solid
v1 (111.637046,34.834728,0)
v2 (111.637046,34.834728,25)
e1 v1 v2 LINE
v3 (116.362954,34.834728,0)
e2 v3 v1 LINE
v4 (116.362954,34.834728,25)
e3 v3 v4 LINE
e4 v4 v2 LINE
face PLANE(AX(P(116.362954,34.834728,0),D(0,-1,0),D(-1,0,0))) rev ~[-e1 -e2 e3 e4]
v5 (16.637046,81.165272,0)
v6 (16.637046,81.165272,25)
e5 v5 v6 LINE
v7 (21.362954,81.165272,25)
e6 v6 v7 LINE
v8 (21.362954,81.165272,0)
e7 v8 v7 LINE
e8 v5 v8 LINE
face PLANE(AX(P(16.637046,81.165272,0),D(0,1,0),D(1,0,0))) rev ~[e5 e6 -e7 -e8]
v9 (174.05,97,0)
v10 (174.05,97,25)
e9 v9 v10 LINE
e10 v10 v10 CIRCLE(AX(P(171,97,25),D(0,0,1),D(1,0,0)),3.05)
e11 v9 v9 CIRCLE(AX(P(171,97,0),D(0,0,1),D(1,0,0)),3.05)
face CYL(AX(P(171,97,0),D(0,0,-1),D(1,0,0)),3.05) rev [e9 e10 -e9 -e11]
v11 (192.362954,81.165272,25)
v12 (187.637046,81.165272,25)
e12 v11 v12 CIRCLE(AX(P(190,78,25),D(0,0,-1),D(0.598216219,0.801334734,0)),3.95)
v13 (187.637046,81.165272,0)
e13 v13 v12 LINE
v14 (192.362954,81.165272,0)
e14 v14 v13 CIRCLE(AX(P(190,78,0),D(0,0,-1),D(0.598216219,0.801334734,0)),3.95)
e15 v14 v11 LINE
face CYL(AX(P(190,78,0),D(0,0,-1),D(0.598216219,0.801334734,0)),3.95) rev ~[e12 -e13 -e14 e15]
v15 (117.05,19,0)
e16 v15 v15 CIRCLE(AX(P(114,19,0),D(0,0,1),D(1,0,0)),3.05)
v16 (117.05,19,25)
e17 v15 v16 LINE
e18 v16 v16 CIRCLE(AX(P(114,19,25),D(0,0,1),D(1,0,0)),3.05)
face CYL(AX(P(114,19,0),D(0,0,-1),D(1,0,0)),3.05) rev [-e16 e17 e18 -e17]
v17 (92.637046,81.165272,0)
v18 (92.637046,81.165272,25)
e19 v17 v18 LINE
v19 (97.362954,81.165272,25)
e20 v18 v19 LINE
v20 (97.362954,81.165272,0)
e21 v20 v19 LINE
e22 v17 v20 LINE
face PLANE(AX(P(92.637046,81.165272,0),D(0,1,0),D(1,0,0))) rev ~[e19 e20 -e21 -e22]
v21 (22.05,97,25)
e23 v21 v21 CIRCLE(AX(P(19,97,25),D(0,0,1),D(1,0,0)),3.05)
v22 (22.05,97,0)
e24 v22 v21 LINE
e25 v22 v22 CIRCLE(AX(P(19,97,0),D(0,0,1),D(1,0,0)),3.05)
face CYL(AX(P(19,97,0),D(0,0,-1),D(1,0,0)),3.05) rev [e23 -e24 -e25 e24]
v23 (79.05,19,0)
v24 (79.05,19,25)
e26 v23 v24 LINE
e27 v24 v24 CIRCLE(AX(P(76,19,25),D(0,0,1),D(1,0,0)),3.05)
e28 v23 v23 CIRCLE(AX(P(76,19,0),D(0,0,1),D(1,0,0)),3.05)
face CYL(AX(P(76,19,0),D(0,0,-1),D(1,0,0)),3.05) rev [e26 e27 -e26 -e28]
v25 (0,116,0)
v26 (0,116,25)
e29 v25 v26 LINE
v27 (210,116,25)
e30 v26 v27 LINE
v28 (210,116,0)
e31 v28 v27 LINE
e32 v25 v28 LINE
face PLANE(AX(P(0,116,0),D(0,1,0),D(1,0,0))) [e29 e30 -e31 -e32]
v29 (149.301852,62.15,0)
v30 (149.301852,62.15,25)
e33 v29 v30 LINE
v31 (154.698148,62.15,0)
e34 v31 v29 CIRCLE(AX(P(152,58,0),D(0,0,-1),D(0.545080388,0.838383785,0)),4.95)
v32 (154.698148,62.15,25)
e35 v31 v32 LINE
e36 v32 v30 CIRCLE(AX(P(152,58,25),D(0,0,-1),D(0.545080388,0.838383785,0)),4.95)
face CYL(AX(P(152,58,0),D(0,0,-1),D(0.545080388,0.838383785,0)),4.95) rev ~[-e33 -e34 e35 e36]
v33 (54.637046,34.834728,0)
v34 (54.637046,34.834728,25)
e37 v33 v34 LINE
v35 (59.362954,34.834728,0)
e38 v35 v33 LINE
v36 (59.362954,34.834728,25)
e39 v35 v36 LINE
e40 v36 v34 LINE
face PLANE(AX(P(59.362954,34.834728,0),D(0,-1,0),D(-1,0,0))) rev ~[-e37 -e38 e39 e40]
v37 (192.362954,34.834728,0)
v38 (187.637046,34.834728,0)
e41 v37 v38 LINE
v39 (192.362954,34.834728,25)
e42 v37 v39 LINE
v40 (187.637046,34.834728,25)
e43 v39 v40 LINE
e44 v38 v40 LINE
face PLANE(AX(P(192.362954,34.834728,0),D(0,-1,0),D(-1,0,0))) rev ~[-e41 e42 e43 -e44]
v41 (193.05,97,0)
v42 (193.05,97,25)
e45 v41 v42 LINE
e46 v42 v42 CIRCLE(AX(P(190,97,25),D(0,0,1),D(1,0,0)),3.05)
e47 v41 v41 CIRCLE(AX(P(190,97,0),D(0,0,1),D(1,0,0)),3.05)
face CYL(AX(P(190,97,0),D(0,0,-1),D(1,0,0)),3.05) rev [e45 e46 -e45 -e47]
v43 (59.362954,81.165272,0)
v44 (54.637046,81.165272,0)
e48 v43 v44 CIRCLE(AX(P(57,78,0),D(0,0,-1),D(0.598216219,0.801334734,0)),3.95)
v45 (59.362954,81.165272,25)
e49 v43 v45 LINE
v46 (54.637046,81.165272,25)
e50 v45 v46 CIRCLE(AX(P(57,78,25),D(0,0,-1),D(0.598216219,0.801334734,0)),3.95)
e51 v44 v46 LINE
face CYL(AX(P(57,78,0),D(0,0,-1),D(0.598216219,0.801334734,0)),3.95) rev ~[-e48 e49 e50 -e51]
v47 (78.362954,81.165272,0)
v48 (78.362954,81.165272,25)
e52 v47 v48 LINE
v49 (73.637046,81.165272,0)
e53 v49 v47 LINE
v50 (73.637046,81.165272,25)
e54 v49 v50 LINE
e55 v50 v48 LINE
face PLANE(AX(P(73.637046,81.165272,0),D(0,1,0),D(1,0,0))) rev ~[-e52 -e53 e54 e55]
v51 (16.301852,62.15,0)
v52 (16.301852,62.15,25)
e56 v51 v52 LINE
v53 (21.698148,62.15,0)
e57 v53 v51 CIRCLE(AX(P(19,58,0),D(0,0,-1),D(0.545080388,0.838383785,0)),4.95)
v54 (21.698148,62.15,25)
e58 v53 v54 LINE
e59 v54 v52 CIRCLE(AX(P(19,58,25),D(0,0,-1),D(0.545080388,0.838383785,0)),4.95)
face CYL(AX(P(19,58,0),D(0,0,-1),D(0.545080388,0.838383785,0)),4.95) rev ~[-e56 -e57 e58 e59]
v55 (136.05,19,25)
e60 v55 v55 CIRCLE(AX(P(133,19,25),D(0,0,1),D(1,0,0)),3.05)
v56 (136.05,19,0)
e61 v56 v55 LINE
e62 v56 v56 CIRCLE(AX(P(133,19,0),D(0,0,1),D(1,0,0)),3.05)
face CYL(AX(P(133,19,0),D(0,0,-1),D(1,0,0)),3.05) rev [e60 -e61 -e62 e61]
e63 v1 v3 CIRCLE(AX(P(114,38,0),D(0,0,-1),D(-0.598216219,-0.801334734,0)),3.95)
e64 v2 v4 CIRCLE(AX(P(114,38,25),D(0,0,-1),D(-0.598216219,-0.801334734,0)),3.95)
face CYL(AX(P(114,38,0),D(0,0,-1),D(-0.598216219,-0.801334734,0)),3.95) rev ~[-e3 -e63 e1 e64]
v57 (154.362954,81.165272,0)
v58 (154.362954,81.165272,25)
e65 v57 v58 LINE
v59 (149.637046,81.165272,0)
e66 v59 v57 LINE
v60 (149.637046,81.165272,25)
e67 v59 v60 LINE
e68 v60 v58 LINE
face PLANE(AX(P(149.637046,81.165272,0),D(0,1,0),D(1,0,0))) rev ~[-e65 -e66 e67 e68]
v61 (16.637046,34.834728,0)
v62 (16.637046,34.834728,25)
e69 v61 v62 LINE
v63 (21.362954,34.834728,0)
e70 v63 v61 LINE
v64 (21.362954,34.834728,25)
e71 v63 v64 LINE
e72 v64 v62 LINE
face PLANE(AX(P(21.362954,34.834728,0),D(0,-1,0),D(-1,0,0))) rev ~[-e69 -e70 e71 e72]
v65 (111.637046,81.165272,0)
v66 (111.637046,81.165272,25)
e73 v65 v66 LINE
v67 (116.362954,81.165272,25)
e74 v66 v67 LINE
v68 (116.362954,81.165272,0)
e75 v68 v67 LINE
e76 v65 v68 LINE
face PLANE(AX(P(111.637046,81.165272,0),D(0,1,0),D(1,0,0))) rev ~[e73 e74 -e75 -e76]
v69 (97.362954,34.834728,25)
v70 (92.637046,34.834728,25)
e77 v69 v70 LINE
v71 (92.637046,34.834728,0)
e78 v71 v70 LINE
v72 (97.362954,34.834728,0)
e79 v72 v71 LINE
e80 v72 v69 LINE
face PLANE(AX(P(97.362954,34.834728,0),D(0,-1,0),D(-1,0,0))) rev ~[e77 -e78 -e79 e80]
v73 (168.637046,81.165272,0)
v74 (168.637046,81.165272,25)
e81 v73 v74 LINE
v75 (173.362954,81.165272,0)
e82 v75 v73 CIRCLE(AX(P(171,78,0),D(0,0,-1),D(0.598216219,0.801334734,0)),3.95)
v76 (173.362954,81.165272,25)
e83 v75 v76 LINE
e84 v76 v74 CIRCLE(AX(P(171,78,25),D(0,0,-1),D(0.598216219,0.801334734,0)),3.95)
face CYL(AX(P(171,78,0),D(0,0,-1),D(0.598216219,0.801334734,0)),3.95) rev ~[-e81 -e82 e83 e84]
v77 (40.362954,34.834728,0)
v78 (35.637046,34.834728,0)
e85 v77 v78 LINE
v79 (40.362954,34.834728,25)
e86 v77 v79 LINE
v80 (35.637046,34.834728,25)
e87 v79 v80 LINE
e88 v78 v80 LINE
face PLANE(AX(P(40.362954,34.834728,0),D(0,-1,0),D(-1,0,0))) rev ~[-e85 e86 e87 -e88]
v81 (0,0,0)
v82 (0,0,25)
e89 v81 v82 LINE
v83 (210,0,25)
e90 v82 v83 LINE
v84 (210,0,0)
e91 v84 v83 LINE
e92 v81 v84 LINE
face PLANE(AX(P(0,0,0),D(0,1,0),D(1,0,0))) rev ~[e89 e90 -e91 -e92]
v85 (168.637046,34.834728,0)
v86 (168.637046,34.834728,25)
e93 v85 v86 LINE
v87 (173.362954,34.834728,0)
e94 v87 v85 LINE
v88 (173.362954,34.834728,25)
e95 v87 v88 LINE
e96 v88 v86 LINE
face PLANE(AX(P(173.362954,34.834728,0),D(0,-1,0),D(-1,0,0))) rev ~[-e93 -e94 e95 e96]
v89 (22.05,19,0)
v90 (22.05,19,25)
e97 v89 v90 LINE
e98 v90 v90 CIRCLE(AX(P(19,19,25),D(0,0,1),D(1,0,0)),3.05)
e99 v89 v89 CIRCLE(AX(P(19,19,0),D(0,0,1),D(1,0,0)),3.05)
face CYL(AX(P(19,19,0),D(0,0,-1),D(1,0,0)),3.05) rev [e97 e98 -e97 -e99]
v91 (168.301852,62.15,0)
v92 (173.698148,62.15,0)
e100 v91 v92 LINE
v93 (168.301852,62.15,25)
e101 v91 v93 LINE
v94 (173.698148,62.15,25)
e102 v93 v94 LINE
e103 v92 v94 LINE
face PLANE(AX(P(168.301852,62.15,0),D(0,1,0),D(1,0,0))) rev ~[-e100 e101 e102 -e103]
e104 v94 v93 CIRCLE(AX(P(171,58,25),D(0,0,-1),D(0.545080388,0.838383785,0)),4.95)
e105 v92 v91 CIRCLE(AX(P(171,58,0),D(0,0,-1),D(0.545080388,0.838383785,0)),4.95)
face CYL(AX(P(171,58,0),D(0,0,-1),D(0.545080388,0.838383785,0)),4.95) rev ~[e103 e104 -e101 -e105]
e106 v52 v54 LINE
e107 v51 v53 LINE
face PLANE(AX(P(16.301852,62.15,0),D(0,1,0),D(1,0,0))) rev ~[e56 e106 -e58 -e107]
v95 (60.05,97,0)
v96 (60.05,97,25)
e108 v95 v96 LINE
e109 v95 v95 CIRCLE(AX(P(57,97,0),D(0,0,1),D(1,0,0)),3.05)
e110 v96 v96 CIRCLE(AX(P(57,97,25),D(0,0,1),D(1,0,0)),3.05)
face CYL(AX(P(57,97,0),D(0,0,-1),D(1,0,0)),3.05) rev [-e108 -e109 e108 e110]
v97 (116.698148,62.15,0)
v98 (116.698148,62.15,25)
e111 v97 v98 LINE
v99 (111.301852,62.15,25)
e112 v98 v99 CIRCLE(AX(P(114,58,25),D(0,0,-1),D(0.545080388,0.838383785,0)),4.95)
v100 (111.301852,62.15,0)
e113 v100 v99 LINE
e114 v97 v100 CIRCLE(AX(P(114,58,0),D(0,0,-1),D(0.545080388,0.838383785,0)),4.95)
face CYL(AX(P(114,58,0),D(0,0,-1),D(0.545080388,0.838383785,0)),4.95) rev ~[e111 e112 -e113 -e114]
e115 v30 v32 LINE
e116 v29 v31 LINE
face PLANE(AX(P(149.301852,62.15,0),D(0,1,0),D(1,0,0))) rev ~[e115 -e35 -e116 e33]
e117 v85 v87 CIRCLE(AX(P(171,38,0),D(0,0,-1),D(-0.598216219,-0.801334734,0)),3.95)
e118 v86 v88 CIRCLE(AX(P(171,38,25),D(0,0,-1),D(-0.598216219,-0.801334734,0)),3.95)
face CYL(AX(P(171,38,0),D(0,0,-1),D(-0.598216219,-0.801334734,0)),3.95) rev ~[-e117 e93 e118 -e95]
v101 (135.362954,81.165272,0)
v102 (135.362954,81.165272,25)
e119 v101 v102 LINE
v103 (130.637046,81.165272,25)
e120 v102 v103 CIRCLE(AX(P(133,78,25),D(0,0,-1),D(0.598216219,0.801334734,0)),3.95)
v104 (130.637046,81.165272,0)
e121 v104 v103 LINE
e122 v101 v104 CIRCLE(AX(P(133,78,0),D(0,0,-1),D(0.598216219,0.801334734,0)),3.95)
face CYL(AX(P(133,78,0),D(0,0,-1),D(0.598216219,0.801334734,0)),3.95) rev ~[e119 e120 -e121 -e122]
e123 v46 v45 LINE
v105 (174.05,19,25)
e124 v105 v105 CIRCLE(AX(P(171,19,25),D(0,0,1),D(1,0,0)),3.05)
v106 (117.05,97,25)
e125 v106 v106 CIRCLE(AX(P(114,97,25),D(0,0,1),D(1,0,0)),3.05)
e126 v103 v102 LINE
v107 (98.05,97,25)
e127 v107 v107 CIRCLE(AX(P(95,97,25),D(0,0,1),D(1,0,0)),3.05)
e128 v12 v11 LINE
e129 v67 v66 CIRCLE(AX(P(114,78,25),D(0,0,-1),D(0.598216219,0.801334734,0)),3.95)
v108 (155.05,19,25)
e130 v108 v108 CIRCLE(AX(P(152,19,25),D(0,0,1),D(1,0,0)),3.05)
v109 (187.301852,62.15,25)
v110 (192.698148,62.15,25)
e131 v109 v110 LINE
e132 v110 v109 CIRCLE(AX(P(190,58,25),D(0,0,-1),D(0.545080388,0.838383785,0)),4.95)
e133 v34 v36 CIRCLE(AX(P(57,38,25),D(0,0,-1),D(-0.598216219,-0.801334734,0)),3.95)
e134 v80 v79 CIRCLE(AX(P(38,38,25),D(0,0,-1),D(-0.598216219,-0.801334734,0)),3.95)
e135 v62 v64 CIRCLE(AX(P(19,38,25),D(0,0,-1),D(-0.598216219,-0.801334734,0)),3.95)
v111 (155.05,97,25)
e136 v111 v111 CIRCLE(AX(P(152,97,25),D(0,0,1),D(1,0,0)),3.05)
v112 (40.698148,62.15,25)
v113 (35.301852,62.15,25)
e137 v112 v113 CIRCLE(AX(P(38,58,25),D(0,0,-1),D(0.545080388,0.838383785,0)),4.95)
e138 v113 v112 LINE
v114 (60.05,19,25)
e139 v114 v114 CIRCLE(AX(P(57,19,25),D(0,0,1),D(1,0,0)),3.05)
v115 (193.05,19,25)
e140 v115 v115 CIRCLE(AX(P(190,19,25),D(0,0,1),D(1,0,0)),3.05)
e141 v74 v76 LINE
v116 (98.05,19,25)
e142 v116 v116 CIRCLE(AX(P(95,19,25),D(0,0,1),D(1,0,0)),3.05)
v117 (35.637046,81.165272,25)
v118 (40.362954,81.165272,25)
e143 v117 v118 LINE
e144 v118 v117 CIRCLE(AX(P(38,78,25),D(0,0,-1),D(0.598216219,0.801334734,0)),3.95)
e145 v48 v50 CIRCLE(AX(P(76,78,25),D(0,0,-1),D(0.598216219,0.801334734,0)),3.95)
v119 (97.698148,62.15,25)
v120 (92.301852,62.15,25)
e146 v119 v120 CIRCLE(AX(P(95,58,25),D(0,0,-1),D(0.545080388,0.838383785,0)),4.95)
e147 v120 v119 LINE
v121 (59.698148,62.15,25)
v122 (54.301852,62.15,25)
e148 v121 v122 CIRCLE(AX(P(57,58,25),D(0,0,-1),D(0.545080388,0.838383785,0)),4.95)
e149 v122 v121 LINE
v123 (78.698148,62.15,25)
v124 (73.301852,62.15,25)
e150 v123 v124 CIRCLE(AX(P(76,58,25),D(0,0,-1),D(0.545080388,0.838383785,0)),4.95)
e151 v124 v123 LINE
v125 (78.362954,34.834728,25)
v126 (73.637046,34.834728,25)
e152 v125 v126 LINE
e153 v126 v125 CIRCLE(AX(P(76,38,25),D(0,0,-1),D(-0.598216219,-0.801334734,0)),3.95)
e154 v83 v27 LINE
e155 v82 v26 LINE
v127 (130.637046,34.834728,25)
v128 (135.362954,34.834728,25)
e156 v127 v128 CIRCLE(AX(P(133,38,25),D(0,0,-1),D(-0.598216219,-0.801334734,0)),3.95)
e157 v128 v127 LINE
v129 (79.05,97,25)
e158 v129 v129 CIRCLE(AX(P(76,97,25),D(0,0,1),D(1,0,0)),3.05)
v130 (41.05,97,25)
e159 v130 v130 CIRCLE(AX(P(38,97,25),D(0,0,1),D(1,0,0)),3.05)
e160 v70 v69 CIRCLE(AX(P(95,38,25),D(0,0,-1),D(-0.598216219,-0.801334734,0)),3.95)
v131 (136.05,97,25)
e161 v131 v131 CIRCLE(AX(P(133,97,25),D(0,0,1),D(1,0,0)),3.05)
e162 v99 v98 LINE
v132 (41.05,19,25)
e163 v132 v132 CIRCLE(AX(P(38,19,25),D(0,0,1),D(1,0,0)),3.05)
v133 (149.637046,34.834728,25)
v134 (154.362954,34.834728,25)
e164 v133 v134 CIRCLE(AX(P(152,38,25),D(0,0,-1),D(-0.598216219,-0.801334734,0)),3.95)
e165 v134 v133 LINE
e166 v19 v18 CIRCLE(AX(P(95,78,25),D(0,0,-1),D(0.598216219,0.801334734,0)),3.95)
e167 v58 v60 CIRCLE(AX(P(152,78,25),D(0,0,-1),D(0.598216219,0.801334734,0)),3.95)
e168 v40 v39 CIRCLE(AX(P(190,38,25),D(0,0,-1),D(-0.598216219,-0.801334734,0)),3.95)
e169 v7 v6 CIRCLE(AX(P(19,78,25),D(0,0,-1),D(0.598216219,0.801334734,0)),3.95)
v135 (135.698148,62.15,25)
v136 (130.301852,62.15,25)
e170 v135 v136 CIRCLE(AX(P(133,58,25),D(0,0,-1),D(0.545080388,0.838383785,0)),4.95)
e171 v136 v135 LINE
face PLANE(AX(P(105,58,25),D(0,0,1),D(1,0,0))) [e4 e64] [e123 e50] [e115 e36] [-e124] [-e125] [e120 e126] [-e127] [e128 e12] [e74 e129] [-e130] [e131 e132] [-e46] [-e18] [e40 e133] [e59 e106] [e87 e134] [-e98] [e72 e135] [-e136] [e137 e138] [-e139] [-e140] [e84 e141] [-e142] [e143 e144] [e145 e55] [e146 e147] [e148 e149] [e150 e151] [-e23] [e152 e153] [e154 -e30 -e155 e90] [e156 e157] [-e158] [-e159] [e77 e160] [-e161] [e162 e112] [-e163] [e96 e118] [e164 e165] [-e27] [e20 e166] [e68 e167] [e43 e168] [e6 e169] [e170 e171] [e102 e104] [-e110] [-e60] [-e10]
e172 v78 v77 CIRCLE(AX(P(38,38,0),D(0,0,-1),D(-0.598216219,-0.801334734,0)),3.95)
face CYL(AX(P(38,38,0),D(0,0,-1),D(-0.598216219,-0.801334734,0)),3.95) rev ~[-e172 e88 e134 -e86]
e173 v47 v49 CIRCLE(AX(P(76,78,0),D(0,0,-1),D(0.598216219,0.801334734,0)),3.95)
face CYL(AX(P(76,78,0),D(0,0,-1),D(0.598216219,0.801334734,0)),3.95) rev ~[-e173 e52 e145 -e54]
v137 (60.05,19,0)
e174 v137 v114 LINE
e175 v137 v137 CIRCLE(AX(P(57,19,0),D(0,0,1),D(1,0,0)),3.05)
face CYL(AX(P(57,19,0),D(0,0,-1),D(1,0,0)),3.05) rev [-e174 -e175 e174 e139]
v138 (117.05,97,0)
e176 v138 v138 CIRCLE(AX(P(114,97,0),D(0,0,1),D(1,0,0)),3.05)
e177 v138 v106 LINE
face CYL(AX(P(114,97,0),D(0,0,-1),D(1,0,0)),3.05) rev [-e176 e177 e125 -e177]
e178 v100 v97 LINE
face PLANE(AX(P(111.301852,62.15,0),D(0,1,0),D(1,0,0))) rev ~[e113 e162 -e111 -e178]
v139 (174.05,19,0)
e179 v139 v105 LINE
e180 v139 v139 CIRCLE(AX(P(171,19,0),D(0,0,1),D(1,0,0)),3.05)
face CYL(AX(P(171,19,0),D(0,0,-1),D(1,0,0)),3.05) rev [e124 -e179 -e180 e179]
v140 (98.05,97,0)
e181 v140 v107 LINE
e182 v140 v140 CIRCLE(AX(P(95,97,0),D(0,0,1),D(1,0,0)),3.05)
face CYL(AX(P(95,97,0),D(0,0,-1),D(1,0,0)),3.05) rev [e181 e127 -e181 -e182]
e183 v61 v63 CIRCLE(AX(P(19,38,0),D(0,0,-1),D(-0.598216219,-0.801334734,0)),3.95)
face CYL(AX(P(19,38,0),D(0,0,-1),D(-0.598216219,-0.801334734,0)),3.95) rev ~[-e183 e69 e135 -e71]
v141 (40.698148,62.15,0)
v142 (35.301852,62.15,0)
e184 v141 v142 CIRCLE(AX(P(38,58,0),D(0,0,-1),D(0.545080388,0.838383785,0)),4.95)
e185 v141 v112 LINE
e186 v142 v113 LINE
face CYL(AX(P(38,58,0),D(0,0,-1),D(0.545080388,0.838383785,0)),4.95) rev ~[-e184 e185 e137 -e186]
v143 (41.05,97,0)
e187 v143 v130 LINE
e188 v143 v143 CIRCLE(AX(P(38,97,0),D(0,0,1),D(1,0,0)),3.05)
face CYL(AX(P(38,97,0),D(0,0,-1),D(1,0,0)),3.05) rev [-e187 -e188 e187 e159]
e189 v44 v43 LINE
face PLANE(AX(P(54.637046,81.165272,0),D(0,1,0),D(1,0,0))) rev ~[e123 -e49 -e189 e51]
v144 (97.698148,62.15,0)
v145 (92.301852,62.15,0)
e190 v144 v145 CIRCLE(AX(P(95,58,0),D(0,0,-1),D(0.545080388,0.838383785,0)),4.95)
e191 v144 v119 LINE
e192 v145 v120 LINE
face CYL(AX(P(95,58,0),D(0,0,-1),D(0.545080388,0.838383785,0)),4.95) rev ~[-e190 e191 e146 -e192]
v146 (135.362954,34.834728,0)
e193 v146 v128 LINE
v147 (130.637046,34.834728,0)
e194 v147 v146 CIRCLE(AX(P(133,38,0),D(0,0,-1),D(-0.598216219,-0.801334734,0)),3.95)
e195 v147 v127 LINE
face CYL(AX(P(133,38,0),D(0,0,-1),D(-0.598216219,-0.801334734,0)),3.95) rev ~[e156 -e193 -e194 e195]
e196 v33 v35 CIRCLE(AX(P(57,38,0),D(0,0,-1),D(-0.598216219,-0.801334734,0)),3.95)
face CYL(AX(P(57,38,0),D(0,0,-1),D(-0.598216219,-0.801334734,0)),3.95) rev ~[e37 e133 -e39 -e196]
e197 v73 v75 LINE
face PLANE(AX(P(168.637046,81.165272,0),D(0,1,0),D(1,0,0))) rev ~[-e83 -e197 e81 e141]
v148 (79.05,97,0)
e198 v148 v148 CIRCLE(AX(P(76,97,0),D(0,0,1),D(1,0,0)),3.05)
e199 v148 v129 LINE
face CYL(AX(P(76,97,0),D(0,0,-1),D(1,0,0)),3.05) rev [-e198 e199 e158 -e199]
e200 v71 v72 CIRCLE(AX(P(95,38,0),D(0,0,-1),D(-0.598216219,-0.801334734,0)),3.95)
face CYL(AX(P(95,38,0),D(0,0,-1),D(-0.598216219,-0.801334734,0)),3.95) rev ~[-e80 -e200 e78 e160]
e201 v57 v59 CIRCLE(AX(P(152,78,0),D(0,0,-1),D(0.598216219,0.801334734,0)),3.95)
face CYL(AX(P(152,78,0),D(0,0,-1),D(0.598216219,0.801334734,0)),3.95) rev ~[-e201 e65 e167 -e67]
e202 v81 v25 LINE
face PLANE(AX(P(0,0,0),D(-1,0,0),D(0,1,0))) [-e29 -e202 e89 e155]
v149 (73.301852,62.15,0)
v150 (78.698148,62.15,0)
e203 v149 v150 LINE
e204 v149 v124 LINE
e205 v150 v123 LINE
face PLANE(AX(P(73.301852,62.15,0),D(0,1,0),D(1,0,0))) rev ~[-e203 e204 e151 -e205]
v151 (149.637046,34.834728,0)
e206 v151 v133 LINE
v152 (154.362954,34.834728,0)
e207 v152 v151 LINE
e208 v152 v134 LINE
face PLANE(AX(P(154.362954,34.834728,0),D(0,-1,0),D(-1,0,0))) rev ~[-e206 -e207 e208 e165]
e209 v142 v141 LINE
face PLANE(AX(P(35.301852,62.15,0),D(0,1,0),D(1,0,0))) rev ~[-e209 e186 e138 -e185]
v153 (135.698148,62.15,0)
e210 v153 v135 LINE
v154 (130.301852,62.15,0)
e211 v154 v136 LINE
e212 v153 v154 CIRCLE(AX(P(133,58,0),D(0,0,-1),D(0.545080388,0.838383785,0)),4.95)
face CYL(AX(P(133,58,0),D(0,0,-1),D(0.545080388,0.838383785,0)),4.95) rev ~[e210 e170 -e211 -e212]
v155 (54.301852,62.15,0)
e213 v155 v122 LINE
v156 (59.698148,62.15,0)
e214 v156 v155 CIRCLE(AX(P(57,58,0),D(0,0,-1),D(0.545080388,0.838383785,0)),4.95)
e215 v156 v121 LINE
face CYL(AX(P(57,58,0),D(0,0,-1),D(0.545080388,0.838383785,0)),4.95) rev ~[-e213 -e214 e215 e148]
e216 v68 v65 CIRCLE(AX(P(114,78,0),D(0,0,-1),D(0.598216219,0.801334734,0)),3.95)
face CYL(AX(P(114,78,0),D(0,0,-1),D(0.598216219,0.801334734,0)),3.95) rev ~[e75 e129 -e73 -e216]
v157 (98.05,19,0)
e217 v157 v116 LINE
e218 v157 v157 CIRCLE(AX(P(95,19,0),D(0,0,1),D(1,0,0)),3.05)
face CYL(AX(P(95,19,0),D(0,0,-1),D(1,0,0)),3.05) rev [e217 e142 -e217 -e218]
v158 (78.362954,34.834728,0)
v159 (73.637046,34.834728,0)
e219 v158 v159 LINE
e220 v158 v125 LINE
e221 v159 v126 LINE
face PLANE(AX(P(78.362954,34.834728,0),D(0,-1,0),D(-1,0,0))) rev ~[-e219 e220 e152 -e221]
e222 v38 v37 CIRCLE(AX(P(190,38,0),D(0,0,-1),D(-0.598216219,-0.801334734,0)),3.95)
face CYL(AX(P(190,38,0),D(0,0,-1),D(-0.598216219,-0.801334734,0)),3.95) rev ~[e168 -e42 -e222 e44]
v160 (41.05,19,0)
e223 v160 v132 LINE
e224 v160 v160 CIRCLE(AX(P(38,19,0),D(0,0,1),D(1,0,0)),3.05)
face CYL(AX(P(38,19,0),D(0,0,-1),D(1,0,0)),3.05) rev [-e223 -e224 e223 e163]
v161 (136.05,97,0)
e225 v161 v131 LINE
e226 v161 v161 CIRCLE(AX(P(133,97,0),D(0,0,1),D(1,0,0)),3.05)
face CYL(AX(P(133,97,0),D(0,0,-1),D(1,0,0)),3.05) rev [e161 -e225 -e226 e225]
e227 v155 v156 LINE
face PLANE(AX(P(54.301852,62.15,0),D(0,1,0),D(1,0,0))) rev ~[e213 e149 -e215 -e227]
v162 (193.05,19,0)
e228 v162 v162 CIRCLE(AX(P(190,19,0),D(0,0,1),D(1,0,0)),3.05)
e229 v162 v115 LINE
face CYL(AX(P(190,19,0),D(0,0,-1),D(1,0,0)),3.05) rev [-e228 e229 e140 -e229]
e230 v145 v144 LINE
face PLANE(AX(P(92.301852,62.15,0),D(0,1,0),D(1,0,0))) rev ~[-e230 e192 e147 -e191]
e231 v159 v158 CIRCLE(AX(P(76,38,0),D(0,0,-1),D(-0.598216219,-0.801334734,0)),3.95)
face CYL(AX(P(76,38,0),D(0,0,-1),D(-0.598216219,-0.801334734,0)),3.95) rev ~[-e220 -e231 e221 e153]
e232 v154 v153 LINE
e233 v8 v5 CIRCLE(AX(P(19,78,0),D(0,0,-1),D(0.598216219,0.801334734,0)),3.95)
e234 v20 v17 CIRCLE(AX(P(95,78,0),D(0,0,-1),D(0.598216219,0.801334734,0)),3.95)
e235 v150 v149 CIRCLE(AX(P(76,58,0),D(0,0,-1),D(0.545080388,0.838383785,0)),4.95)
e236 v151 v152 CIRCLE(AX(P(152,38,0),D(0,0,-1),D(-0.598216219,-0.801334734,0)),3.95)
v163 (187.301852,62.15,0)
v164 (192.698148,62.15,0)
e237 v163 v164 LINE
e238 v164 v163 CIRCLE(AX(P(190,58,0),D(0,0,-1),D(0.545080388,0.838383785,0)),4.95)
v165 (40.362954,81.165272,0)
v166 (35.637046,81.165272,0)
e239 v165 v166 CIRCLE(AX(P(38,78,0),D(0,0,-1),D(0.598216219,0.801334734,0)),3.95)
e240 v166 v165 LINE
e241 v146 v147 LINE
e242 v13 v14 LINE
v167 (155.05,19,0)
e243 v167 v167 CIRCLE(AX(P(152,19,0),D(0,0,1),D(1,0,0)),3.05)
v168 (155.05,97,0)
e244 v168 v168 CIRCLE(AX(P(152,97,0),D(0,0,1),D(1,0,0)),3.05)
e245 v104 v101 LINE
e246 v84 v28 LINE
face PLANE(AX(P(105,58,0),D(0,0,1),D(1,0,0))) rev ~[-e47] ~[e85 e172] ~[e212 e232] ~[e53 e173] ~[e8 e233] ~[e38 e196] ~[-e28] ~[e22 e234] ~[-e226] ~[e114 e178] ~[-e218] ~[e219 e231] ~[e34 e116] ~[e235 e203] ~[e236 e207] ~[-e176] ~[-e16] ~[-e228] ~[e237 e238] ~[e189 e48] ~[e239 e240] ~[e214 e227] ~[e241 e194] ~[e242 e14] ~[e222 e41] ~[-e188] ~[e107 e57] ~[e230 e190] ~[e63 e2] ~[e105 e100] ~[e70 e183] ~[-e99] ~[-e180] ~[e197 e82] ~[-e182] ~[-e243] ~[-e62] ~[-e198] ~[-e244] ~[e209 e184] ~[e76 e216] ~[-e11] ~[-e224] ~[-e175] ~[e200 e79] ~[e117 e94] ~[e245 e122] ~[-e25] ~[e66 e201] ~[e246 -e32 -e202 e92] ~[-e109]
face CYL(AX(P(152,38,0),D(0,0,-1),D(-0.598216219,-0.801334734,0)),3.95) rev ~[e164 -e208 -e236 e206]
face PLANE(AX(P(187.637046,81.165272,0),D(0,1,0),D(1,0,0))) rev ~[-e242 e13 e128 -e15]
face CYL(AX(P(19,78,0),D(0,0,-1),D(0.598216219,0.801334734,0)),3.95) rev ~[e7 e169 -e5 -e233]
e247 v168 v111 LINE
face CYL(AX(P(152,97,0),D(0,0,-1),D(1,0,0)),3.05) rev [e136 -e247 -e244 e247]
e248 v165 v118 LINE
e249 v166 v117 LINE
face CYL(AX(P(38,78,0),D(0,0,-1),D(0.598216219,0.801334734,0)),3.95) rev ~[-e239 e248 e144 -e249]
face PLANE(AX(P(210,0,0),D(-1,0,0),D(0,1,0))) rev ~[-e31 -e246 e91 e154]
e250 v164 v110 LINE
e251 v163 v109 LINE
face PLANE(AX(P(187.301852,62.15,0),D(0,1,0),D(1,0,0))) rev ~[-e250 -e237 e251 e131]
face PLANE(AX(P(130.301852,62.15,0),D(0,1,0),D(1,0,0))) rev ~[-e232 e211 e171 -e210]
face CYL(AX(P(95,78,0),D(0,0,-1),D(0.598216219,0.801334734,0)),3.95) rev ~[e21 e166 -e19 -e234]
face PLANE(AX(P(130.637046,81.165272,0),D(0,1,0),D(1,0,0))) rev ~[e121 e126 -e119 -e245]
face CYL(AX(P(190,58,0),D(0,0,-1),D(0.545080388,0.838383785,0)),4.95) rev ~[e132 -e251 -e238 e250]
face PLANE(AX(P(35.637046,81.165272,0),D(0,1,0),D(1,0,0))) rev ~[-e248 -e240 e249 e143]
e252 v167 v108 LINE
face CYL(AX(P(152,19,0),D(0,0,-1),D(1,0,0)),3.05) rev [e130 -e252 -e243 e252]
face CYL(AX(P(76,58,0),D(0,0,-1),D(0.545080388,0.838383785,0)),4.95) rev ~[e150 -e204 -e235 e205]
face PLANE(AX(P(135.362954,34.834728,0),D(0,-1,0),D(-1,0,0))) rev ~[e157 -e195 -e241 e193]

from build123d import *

# Parameters (mm, degrees)
F1_W     = 210
F1_H     = 116
F1_R     = 3.05
F2_DEPTH = 25


with BuildPart() as f2:
    # F1 (on face) → F2 (new body)
    with BuildSketch(Plane.XY):
        with Locations((105, 58)):
            Rectangle(F1_W, F1_H)
        with Locations((19, 19)):
            Circle(F1_R, mode=Mode.SUBTRACT)
        with Locations((38, 19)):
            Circle(F1_R, mode=Mode.SUBTRACT)
        with Locations((57, 19)):
            Circle(F1_R, mode=Mode.SUBTRACT)
        with Locations((76, 19)):
            Circle(F1_R, mode=Mode.SUBTRACT)
        with Locations((95, 19)):
            Circle(F1_R, mode=Mode.SUBTRACT)
        with BuildLine():
            Line((21.362954, 34.834728), (16.637046, 34.834728))
            ThreePointArc((16.637046, 34.834728), (19, 41.95), (21.362954, 34.834728))
        make_face(mode=Mode.SUBTRACT)
        with BuildLine():
            Line((40.362954, 34.834728), (35.637046, 34.834728))
            ThreePointArc((35.637046, 34.834728), (38, 41.95), (40.362954, 34.834728))
        make_face(mode=Mode.SUBTRACT)
        with BuildLine():
            ThreePointArc((21.698148, 62.15), (19, 53.05), (16.301852, 62.15))
            Line((16.301852, 62.15), (21.698148, 62.15))
        make_face(mode=Mode.SUBTRACT)
        with BuildLine():
            ThreePointArc((40.698148, 62.15), (38, 53.05), (35.301852, 62.15))
            Line((35.301852, 62.15), (40.698148, 62.15))
        make_face(mode=Mode.SUBTRACT)
        with BuildLine():
            Line((59.362954, 34.834728), (54.637046, 34.834728))
            ThreePointArc((54.637046, 34.834728), (57, 41.95), (59.362954, 34.834728))
        make_face(mode=Mode.SUBTRACT)
        with BuildLine():
            Line((78.362954, 34.834728), (73.637046, 34.834728))
            ThreePointArc((73.637046, 34.834728), (76, 41.95), (78.362954, 34.834728))
        make_face(mode=Mode.SUBTRACT)
        with BuildLine():
            Line((97.362954, 34.834728), (92.637046, 34.834728))
            ThreePointArc((92.637046, 34.834728), (95, 41.95), (97.362954, 34.834728))
        make_face(mode=Mode.SUBTRACT)
        with BuildLine():
            ThreePointArc((59.698148, 62.15), (57, 53.05), (54.301852, 62.15))
            Line((54.301852, 62.15), (59.698148, 62.15))
        make_face(mode=Mode.SUBTRACT)
        with BuildLine():
            ThreePointArc((78.698148, 62.15), (76, 53.05), (73.301852, 62.15))
            Line((73.301852, 62.15), (78.698148, 62.15))
        make_face(mode=Mode.SUBTRACT)
        with BuildLine():
            ThreePointArc((97.698148, 62.15), (95, 53.05), (92.301852, 62.15))
            Line((92.301852, 62.15), (97.698148, 62.15))
        make_face(mode=Mode.SUBTRACT)
        with Locations((114, 19)):
            Circle(F1_R, mode=Mode.SUBTRACT)
        with Locations((133, 19)):
            Circle(F1_R, mode=Mode.SUBTRACT)
        with Locations((152, 19)):
            Circle(F1_R, mode=Mode.SUBTRACT)
        with Locations((171, 19)):
            Circle(F1_R, mode=Mode.SUBTRACT)
        with Locations((190, 19)):
            Circle(F1_R, mode=Mode.SUBTRACT)
        with BuildLine():
            Line((116.362954, 34.834728), (111.637046, 34.834728))
            ThreePointArc((111.637046, 34.834728), (114, 41.95), (116.362954, 34.834728))
        make_face(mode=Mode.SUBTRACT)
        with BuildLine():
            Line((135.362954, 34.834728), (130.637046, 34.834728))
            ThreePointArc((130.637046, 34.834728), (133, 41.95), (135.362954, 34.834728))
        make_face(mode=Mode.SUBTRACT)
        with BuildLine():
            Line((154.362954, 34.834728), (149.637046, 34.834728))
            ThreePointArc((149.637046, 34.834728), (152, 41.95), (154.362954, 34.834728))
        make_face(mode=Mode.SUBTRACT)
        with BuildLine():
            ThreePointArc((116.698148, 62.15), (114, 53.05), (111.301852, 62.15))
            Line((111.301852, 62.15), (116.698148, 62.15))
        make_face(mode=Mode.SUBTRACT)
        with BuildLine():
            ThreePointArc((135.698148, 62.15), (133, 53.05), (130.301852, 62.15))
            Line((130.301852, 62.15), (135.698148, 62.15))
        make_face(mode=Mode.SUBTRACT)
        with BuildLine():
            ThreePointArc((154.698148, 62.15), (152, 53.05), (149.301852, 62.15))
            Line((149.301852, 62.15), (154.698148, 62.15))
        make_face(mode=Mode.SUBTRACT)
        with BuildLine():
            Line((173.362954, 34.834728), (168.637046, 34.834728))
            ThreePointArc((168.637046, 34.834728), (171, 41.95), (173.362954, 34.834728))
        make_face(mode=Mode.SUBTRACT)
        with BuildLine():
            Line((192.362954, 34.834728), (187.637046, 34.834728))
            ThreePointArc((187.637046, 34.834728), (190, 41.95), (192.362954, 34.834728))
        make_face(mode=Mode.SUBTRACT)
        with BuildLine():
            ThreePointArc((173.698148, 62.15), (171, 53.05), (168.301852, 62.15))
            Line((168.301852, 62.15), (173.698148, 62.15))
        make_face(mode=Mode.SUBTRACT)
        with BuildLine():
            ThreePointArc((192.698148, 62.15), (190, 53.05), (187.301852, 62.15))
            Line((187.301852, 62.15), (192.698148, 62.15))
        make_face(mode=Mode.SUBTRACT)
        with BuildLine():
            ThreePointArc((21.362954, 81.165272), (19, 74.05), (16.637046, 81.165272))
            Line((16.637046, 81.165272), (21.362954, 81.165272))
        make_face(mode=Mode.SUBTRACT)
        with BuildLine():
            ThreePointArc((40.362954, 81.165272), (38, 74.05), (35.637046, 81.165272))
            Line((35.637046, 81.165272), (40.362954, 81.165272))
        make_face(mode=Mode.SUBTRACT)
        with BuildLine():
            ThreePointArc((59.362954, 81.165272), (57, 74.05), (54.637046, 81.165272))
            Line((54.637046, 81.165272), (59.362954, 81.165272))
        make_face(mode=Mode.SUBTRACT)
        with BuildLine():
            ThreePointArc((78.362954, 81.165272), (76, 74.05), (73.637046, 81.165272))
            Line((73.637046, 81.165272), (78.362954, 81.165272))
        make_face(mode=Mode.SUBTRACT)
        with BuildLine():
            ThreePointArc((97.362954, 81.165272), (95, 74.05), (92.637046, 81.165272))
            Line((92.637046, 81.165272), (97.362954, 81.165272))
        make_face(mode=Mode.SUBTRACT)
        with Locations((19, 97)):
            Circle(F1_R, mode=Mode.SUBTRACT)
        with Locations((38, 97)):
            Circle(F1_R, mode=Mode.SUBTRACT)
        with Locations((57, 97)):
            Circle(F1_R, mode=Mode.SUBTRACT)
        with Locations((76, 97)):
            Circle(F1_R, mode=Mode.SUBTRACT)
        with Locations((95, 97)):
            Circle(F1_R, mode=Mode.SUBTRACT)
        with BuildLine():
            ThreePointArc((116.362954, 81.165272), (114, 74.05), (111.637046, 81.165272))
            Line((111.637046, 81.165272), (116.362954, 81.165272))
        make_face(mode=Mode.SUBTRACT)
        with BuildLine():
            ThreePointArc((135.362954, 81.165272), (133, 74.05), (130.637046, 81.165272))
            Line((130.637046, 81.165272), (135.362954, 81.165272))
        make_face(mode=Mode.SUBTRACT)
        with BuildLine():
            ThreePointArc((154.362954, 81.165272), (152, 74.05), (149.637046, 81.165272))
            Line((149.637046, 81.165272), (154.362954, 81.165272))
        make_face(mode=Mode.SUBTRACT)
        with BuildLine():
            ThreePointArc((173.362954, 81.165272), (171, 74.05), (168.637046, 81.165272))
            Line((168.637046, 81.165272), (173.362954, 81.165272))
        make_face(mode=Mode.SUBTRACT)
        with BuildLine():
            ThreePointArc((192.362954, 81.165272), (190, 74.05), (187.637046, 81.165272))
            Line((187.637046, 81.165272), (192.362954, 81.165272))
        make_face(mode=Mode.SUBTRACT)
        with Locations((114, 97)):
            Circle(F1_R, mode=Mode.SUBTRACT)
        with Locations((133, 97)):
            Circle(F1_R, mode=Mode.SUBTRACT)
        with Locations((152, 97)):
            Circle(F1_R, mode=Mode.SUBTRACT)
        with Locations((171, 97)):
            Circle(F1_R, mode=Mode.SUBTRACT)
        with Locations((190, 97)):
            Circle(F1_R, mode=Mode.SUBTRACT)
    extrude(amount=F2_DEPTH)


solid = f2.part
